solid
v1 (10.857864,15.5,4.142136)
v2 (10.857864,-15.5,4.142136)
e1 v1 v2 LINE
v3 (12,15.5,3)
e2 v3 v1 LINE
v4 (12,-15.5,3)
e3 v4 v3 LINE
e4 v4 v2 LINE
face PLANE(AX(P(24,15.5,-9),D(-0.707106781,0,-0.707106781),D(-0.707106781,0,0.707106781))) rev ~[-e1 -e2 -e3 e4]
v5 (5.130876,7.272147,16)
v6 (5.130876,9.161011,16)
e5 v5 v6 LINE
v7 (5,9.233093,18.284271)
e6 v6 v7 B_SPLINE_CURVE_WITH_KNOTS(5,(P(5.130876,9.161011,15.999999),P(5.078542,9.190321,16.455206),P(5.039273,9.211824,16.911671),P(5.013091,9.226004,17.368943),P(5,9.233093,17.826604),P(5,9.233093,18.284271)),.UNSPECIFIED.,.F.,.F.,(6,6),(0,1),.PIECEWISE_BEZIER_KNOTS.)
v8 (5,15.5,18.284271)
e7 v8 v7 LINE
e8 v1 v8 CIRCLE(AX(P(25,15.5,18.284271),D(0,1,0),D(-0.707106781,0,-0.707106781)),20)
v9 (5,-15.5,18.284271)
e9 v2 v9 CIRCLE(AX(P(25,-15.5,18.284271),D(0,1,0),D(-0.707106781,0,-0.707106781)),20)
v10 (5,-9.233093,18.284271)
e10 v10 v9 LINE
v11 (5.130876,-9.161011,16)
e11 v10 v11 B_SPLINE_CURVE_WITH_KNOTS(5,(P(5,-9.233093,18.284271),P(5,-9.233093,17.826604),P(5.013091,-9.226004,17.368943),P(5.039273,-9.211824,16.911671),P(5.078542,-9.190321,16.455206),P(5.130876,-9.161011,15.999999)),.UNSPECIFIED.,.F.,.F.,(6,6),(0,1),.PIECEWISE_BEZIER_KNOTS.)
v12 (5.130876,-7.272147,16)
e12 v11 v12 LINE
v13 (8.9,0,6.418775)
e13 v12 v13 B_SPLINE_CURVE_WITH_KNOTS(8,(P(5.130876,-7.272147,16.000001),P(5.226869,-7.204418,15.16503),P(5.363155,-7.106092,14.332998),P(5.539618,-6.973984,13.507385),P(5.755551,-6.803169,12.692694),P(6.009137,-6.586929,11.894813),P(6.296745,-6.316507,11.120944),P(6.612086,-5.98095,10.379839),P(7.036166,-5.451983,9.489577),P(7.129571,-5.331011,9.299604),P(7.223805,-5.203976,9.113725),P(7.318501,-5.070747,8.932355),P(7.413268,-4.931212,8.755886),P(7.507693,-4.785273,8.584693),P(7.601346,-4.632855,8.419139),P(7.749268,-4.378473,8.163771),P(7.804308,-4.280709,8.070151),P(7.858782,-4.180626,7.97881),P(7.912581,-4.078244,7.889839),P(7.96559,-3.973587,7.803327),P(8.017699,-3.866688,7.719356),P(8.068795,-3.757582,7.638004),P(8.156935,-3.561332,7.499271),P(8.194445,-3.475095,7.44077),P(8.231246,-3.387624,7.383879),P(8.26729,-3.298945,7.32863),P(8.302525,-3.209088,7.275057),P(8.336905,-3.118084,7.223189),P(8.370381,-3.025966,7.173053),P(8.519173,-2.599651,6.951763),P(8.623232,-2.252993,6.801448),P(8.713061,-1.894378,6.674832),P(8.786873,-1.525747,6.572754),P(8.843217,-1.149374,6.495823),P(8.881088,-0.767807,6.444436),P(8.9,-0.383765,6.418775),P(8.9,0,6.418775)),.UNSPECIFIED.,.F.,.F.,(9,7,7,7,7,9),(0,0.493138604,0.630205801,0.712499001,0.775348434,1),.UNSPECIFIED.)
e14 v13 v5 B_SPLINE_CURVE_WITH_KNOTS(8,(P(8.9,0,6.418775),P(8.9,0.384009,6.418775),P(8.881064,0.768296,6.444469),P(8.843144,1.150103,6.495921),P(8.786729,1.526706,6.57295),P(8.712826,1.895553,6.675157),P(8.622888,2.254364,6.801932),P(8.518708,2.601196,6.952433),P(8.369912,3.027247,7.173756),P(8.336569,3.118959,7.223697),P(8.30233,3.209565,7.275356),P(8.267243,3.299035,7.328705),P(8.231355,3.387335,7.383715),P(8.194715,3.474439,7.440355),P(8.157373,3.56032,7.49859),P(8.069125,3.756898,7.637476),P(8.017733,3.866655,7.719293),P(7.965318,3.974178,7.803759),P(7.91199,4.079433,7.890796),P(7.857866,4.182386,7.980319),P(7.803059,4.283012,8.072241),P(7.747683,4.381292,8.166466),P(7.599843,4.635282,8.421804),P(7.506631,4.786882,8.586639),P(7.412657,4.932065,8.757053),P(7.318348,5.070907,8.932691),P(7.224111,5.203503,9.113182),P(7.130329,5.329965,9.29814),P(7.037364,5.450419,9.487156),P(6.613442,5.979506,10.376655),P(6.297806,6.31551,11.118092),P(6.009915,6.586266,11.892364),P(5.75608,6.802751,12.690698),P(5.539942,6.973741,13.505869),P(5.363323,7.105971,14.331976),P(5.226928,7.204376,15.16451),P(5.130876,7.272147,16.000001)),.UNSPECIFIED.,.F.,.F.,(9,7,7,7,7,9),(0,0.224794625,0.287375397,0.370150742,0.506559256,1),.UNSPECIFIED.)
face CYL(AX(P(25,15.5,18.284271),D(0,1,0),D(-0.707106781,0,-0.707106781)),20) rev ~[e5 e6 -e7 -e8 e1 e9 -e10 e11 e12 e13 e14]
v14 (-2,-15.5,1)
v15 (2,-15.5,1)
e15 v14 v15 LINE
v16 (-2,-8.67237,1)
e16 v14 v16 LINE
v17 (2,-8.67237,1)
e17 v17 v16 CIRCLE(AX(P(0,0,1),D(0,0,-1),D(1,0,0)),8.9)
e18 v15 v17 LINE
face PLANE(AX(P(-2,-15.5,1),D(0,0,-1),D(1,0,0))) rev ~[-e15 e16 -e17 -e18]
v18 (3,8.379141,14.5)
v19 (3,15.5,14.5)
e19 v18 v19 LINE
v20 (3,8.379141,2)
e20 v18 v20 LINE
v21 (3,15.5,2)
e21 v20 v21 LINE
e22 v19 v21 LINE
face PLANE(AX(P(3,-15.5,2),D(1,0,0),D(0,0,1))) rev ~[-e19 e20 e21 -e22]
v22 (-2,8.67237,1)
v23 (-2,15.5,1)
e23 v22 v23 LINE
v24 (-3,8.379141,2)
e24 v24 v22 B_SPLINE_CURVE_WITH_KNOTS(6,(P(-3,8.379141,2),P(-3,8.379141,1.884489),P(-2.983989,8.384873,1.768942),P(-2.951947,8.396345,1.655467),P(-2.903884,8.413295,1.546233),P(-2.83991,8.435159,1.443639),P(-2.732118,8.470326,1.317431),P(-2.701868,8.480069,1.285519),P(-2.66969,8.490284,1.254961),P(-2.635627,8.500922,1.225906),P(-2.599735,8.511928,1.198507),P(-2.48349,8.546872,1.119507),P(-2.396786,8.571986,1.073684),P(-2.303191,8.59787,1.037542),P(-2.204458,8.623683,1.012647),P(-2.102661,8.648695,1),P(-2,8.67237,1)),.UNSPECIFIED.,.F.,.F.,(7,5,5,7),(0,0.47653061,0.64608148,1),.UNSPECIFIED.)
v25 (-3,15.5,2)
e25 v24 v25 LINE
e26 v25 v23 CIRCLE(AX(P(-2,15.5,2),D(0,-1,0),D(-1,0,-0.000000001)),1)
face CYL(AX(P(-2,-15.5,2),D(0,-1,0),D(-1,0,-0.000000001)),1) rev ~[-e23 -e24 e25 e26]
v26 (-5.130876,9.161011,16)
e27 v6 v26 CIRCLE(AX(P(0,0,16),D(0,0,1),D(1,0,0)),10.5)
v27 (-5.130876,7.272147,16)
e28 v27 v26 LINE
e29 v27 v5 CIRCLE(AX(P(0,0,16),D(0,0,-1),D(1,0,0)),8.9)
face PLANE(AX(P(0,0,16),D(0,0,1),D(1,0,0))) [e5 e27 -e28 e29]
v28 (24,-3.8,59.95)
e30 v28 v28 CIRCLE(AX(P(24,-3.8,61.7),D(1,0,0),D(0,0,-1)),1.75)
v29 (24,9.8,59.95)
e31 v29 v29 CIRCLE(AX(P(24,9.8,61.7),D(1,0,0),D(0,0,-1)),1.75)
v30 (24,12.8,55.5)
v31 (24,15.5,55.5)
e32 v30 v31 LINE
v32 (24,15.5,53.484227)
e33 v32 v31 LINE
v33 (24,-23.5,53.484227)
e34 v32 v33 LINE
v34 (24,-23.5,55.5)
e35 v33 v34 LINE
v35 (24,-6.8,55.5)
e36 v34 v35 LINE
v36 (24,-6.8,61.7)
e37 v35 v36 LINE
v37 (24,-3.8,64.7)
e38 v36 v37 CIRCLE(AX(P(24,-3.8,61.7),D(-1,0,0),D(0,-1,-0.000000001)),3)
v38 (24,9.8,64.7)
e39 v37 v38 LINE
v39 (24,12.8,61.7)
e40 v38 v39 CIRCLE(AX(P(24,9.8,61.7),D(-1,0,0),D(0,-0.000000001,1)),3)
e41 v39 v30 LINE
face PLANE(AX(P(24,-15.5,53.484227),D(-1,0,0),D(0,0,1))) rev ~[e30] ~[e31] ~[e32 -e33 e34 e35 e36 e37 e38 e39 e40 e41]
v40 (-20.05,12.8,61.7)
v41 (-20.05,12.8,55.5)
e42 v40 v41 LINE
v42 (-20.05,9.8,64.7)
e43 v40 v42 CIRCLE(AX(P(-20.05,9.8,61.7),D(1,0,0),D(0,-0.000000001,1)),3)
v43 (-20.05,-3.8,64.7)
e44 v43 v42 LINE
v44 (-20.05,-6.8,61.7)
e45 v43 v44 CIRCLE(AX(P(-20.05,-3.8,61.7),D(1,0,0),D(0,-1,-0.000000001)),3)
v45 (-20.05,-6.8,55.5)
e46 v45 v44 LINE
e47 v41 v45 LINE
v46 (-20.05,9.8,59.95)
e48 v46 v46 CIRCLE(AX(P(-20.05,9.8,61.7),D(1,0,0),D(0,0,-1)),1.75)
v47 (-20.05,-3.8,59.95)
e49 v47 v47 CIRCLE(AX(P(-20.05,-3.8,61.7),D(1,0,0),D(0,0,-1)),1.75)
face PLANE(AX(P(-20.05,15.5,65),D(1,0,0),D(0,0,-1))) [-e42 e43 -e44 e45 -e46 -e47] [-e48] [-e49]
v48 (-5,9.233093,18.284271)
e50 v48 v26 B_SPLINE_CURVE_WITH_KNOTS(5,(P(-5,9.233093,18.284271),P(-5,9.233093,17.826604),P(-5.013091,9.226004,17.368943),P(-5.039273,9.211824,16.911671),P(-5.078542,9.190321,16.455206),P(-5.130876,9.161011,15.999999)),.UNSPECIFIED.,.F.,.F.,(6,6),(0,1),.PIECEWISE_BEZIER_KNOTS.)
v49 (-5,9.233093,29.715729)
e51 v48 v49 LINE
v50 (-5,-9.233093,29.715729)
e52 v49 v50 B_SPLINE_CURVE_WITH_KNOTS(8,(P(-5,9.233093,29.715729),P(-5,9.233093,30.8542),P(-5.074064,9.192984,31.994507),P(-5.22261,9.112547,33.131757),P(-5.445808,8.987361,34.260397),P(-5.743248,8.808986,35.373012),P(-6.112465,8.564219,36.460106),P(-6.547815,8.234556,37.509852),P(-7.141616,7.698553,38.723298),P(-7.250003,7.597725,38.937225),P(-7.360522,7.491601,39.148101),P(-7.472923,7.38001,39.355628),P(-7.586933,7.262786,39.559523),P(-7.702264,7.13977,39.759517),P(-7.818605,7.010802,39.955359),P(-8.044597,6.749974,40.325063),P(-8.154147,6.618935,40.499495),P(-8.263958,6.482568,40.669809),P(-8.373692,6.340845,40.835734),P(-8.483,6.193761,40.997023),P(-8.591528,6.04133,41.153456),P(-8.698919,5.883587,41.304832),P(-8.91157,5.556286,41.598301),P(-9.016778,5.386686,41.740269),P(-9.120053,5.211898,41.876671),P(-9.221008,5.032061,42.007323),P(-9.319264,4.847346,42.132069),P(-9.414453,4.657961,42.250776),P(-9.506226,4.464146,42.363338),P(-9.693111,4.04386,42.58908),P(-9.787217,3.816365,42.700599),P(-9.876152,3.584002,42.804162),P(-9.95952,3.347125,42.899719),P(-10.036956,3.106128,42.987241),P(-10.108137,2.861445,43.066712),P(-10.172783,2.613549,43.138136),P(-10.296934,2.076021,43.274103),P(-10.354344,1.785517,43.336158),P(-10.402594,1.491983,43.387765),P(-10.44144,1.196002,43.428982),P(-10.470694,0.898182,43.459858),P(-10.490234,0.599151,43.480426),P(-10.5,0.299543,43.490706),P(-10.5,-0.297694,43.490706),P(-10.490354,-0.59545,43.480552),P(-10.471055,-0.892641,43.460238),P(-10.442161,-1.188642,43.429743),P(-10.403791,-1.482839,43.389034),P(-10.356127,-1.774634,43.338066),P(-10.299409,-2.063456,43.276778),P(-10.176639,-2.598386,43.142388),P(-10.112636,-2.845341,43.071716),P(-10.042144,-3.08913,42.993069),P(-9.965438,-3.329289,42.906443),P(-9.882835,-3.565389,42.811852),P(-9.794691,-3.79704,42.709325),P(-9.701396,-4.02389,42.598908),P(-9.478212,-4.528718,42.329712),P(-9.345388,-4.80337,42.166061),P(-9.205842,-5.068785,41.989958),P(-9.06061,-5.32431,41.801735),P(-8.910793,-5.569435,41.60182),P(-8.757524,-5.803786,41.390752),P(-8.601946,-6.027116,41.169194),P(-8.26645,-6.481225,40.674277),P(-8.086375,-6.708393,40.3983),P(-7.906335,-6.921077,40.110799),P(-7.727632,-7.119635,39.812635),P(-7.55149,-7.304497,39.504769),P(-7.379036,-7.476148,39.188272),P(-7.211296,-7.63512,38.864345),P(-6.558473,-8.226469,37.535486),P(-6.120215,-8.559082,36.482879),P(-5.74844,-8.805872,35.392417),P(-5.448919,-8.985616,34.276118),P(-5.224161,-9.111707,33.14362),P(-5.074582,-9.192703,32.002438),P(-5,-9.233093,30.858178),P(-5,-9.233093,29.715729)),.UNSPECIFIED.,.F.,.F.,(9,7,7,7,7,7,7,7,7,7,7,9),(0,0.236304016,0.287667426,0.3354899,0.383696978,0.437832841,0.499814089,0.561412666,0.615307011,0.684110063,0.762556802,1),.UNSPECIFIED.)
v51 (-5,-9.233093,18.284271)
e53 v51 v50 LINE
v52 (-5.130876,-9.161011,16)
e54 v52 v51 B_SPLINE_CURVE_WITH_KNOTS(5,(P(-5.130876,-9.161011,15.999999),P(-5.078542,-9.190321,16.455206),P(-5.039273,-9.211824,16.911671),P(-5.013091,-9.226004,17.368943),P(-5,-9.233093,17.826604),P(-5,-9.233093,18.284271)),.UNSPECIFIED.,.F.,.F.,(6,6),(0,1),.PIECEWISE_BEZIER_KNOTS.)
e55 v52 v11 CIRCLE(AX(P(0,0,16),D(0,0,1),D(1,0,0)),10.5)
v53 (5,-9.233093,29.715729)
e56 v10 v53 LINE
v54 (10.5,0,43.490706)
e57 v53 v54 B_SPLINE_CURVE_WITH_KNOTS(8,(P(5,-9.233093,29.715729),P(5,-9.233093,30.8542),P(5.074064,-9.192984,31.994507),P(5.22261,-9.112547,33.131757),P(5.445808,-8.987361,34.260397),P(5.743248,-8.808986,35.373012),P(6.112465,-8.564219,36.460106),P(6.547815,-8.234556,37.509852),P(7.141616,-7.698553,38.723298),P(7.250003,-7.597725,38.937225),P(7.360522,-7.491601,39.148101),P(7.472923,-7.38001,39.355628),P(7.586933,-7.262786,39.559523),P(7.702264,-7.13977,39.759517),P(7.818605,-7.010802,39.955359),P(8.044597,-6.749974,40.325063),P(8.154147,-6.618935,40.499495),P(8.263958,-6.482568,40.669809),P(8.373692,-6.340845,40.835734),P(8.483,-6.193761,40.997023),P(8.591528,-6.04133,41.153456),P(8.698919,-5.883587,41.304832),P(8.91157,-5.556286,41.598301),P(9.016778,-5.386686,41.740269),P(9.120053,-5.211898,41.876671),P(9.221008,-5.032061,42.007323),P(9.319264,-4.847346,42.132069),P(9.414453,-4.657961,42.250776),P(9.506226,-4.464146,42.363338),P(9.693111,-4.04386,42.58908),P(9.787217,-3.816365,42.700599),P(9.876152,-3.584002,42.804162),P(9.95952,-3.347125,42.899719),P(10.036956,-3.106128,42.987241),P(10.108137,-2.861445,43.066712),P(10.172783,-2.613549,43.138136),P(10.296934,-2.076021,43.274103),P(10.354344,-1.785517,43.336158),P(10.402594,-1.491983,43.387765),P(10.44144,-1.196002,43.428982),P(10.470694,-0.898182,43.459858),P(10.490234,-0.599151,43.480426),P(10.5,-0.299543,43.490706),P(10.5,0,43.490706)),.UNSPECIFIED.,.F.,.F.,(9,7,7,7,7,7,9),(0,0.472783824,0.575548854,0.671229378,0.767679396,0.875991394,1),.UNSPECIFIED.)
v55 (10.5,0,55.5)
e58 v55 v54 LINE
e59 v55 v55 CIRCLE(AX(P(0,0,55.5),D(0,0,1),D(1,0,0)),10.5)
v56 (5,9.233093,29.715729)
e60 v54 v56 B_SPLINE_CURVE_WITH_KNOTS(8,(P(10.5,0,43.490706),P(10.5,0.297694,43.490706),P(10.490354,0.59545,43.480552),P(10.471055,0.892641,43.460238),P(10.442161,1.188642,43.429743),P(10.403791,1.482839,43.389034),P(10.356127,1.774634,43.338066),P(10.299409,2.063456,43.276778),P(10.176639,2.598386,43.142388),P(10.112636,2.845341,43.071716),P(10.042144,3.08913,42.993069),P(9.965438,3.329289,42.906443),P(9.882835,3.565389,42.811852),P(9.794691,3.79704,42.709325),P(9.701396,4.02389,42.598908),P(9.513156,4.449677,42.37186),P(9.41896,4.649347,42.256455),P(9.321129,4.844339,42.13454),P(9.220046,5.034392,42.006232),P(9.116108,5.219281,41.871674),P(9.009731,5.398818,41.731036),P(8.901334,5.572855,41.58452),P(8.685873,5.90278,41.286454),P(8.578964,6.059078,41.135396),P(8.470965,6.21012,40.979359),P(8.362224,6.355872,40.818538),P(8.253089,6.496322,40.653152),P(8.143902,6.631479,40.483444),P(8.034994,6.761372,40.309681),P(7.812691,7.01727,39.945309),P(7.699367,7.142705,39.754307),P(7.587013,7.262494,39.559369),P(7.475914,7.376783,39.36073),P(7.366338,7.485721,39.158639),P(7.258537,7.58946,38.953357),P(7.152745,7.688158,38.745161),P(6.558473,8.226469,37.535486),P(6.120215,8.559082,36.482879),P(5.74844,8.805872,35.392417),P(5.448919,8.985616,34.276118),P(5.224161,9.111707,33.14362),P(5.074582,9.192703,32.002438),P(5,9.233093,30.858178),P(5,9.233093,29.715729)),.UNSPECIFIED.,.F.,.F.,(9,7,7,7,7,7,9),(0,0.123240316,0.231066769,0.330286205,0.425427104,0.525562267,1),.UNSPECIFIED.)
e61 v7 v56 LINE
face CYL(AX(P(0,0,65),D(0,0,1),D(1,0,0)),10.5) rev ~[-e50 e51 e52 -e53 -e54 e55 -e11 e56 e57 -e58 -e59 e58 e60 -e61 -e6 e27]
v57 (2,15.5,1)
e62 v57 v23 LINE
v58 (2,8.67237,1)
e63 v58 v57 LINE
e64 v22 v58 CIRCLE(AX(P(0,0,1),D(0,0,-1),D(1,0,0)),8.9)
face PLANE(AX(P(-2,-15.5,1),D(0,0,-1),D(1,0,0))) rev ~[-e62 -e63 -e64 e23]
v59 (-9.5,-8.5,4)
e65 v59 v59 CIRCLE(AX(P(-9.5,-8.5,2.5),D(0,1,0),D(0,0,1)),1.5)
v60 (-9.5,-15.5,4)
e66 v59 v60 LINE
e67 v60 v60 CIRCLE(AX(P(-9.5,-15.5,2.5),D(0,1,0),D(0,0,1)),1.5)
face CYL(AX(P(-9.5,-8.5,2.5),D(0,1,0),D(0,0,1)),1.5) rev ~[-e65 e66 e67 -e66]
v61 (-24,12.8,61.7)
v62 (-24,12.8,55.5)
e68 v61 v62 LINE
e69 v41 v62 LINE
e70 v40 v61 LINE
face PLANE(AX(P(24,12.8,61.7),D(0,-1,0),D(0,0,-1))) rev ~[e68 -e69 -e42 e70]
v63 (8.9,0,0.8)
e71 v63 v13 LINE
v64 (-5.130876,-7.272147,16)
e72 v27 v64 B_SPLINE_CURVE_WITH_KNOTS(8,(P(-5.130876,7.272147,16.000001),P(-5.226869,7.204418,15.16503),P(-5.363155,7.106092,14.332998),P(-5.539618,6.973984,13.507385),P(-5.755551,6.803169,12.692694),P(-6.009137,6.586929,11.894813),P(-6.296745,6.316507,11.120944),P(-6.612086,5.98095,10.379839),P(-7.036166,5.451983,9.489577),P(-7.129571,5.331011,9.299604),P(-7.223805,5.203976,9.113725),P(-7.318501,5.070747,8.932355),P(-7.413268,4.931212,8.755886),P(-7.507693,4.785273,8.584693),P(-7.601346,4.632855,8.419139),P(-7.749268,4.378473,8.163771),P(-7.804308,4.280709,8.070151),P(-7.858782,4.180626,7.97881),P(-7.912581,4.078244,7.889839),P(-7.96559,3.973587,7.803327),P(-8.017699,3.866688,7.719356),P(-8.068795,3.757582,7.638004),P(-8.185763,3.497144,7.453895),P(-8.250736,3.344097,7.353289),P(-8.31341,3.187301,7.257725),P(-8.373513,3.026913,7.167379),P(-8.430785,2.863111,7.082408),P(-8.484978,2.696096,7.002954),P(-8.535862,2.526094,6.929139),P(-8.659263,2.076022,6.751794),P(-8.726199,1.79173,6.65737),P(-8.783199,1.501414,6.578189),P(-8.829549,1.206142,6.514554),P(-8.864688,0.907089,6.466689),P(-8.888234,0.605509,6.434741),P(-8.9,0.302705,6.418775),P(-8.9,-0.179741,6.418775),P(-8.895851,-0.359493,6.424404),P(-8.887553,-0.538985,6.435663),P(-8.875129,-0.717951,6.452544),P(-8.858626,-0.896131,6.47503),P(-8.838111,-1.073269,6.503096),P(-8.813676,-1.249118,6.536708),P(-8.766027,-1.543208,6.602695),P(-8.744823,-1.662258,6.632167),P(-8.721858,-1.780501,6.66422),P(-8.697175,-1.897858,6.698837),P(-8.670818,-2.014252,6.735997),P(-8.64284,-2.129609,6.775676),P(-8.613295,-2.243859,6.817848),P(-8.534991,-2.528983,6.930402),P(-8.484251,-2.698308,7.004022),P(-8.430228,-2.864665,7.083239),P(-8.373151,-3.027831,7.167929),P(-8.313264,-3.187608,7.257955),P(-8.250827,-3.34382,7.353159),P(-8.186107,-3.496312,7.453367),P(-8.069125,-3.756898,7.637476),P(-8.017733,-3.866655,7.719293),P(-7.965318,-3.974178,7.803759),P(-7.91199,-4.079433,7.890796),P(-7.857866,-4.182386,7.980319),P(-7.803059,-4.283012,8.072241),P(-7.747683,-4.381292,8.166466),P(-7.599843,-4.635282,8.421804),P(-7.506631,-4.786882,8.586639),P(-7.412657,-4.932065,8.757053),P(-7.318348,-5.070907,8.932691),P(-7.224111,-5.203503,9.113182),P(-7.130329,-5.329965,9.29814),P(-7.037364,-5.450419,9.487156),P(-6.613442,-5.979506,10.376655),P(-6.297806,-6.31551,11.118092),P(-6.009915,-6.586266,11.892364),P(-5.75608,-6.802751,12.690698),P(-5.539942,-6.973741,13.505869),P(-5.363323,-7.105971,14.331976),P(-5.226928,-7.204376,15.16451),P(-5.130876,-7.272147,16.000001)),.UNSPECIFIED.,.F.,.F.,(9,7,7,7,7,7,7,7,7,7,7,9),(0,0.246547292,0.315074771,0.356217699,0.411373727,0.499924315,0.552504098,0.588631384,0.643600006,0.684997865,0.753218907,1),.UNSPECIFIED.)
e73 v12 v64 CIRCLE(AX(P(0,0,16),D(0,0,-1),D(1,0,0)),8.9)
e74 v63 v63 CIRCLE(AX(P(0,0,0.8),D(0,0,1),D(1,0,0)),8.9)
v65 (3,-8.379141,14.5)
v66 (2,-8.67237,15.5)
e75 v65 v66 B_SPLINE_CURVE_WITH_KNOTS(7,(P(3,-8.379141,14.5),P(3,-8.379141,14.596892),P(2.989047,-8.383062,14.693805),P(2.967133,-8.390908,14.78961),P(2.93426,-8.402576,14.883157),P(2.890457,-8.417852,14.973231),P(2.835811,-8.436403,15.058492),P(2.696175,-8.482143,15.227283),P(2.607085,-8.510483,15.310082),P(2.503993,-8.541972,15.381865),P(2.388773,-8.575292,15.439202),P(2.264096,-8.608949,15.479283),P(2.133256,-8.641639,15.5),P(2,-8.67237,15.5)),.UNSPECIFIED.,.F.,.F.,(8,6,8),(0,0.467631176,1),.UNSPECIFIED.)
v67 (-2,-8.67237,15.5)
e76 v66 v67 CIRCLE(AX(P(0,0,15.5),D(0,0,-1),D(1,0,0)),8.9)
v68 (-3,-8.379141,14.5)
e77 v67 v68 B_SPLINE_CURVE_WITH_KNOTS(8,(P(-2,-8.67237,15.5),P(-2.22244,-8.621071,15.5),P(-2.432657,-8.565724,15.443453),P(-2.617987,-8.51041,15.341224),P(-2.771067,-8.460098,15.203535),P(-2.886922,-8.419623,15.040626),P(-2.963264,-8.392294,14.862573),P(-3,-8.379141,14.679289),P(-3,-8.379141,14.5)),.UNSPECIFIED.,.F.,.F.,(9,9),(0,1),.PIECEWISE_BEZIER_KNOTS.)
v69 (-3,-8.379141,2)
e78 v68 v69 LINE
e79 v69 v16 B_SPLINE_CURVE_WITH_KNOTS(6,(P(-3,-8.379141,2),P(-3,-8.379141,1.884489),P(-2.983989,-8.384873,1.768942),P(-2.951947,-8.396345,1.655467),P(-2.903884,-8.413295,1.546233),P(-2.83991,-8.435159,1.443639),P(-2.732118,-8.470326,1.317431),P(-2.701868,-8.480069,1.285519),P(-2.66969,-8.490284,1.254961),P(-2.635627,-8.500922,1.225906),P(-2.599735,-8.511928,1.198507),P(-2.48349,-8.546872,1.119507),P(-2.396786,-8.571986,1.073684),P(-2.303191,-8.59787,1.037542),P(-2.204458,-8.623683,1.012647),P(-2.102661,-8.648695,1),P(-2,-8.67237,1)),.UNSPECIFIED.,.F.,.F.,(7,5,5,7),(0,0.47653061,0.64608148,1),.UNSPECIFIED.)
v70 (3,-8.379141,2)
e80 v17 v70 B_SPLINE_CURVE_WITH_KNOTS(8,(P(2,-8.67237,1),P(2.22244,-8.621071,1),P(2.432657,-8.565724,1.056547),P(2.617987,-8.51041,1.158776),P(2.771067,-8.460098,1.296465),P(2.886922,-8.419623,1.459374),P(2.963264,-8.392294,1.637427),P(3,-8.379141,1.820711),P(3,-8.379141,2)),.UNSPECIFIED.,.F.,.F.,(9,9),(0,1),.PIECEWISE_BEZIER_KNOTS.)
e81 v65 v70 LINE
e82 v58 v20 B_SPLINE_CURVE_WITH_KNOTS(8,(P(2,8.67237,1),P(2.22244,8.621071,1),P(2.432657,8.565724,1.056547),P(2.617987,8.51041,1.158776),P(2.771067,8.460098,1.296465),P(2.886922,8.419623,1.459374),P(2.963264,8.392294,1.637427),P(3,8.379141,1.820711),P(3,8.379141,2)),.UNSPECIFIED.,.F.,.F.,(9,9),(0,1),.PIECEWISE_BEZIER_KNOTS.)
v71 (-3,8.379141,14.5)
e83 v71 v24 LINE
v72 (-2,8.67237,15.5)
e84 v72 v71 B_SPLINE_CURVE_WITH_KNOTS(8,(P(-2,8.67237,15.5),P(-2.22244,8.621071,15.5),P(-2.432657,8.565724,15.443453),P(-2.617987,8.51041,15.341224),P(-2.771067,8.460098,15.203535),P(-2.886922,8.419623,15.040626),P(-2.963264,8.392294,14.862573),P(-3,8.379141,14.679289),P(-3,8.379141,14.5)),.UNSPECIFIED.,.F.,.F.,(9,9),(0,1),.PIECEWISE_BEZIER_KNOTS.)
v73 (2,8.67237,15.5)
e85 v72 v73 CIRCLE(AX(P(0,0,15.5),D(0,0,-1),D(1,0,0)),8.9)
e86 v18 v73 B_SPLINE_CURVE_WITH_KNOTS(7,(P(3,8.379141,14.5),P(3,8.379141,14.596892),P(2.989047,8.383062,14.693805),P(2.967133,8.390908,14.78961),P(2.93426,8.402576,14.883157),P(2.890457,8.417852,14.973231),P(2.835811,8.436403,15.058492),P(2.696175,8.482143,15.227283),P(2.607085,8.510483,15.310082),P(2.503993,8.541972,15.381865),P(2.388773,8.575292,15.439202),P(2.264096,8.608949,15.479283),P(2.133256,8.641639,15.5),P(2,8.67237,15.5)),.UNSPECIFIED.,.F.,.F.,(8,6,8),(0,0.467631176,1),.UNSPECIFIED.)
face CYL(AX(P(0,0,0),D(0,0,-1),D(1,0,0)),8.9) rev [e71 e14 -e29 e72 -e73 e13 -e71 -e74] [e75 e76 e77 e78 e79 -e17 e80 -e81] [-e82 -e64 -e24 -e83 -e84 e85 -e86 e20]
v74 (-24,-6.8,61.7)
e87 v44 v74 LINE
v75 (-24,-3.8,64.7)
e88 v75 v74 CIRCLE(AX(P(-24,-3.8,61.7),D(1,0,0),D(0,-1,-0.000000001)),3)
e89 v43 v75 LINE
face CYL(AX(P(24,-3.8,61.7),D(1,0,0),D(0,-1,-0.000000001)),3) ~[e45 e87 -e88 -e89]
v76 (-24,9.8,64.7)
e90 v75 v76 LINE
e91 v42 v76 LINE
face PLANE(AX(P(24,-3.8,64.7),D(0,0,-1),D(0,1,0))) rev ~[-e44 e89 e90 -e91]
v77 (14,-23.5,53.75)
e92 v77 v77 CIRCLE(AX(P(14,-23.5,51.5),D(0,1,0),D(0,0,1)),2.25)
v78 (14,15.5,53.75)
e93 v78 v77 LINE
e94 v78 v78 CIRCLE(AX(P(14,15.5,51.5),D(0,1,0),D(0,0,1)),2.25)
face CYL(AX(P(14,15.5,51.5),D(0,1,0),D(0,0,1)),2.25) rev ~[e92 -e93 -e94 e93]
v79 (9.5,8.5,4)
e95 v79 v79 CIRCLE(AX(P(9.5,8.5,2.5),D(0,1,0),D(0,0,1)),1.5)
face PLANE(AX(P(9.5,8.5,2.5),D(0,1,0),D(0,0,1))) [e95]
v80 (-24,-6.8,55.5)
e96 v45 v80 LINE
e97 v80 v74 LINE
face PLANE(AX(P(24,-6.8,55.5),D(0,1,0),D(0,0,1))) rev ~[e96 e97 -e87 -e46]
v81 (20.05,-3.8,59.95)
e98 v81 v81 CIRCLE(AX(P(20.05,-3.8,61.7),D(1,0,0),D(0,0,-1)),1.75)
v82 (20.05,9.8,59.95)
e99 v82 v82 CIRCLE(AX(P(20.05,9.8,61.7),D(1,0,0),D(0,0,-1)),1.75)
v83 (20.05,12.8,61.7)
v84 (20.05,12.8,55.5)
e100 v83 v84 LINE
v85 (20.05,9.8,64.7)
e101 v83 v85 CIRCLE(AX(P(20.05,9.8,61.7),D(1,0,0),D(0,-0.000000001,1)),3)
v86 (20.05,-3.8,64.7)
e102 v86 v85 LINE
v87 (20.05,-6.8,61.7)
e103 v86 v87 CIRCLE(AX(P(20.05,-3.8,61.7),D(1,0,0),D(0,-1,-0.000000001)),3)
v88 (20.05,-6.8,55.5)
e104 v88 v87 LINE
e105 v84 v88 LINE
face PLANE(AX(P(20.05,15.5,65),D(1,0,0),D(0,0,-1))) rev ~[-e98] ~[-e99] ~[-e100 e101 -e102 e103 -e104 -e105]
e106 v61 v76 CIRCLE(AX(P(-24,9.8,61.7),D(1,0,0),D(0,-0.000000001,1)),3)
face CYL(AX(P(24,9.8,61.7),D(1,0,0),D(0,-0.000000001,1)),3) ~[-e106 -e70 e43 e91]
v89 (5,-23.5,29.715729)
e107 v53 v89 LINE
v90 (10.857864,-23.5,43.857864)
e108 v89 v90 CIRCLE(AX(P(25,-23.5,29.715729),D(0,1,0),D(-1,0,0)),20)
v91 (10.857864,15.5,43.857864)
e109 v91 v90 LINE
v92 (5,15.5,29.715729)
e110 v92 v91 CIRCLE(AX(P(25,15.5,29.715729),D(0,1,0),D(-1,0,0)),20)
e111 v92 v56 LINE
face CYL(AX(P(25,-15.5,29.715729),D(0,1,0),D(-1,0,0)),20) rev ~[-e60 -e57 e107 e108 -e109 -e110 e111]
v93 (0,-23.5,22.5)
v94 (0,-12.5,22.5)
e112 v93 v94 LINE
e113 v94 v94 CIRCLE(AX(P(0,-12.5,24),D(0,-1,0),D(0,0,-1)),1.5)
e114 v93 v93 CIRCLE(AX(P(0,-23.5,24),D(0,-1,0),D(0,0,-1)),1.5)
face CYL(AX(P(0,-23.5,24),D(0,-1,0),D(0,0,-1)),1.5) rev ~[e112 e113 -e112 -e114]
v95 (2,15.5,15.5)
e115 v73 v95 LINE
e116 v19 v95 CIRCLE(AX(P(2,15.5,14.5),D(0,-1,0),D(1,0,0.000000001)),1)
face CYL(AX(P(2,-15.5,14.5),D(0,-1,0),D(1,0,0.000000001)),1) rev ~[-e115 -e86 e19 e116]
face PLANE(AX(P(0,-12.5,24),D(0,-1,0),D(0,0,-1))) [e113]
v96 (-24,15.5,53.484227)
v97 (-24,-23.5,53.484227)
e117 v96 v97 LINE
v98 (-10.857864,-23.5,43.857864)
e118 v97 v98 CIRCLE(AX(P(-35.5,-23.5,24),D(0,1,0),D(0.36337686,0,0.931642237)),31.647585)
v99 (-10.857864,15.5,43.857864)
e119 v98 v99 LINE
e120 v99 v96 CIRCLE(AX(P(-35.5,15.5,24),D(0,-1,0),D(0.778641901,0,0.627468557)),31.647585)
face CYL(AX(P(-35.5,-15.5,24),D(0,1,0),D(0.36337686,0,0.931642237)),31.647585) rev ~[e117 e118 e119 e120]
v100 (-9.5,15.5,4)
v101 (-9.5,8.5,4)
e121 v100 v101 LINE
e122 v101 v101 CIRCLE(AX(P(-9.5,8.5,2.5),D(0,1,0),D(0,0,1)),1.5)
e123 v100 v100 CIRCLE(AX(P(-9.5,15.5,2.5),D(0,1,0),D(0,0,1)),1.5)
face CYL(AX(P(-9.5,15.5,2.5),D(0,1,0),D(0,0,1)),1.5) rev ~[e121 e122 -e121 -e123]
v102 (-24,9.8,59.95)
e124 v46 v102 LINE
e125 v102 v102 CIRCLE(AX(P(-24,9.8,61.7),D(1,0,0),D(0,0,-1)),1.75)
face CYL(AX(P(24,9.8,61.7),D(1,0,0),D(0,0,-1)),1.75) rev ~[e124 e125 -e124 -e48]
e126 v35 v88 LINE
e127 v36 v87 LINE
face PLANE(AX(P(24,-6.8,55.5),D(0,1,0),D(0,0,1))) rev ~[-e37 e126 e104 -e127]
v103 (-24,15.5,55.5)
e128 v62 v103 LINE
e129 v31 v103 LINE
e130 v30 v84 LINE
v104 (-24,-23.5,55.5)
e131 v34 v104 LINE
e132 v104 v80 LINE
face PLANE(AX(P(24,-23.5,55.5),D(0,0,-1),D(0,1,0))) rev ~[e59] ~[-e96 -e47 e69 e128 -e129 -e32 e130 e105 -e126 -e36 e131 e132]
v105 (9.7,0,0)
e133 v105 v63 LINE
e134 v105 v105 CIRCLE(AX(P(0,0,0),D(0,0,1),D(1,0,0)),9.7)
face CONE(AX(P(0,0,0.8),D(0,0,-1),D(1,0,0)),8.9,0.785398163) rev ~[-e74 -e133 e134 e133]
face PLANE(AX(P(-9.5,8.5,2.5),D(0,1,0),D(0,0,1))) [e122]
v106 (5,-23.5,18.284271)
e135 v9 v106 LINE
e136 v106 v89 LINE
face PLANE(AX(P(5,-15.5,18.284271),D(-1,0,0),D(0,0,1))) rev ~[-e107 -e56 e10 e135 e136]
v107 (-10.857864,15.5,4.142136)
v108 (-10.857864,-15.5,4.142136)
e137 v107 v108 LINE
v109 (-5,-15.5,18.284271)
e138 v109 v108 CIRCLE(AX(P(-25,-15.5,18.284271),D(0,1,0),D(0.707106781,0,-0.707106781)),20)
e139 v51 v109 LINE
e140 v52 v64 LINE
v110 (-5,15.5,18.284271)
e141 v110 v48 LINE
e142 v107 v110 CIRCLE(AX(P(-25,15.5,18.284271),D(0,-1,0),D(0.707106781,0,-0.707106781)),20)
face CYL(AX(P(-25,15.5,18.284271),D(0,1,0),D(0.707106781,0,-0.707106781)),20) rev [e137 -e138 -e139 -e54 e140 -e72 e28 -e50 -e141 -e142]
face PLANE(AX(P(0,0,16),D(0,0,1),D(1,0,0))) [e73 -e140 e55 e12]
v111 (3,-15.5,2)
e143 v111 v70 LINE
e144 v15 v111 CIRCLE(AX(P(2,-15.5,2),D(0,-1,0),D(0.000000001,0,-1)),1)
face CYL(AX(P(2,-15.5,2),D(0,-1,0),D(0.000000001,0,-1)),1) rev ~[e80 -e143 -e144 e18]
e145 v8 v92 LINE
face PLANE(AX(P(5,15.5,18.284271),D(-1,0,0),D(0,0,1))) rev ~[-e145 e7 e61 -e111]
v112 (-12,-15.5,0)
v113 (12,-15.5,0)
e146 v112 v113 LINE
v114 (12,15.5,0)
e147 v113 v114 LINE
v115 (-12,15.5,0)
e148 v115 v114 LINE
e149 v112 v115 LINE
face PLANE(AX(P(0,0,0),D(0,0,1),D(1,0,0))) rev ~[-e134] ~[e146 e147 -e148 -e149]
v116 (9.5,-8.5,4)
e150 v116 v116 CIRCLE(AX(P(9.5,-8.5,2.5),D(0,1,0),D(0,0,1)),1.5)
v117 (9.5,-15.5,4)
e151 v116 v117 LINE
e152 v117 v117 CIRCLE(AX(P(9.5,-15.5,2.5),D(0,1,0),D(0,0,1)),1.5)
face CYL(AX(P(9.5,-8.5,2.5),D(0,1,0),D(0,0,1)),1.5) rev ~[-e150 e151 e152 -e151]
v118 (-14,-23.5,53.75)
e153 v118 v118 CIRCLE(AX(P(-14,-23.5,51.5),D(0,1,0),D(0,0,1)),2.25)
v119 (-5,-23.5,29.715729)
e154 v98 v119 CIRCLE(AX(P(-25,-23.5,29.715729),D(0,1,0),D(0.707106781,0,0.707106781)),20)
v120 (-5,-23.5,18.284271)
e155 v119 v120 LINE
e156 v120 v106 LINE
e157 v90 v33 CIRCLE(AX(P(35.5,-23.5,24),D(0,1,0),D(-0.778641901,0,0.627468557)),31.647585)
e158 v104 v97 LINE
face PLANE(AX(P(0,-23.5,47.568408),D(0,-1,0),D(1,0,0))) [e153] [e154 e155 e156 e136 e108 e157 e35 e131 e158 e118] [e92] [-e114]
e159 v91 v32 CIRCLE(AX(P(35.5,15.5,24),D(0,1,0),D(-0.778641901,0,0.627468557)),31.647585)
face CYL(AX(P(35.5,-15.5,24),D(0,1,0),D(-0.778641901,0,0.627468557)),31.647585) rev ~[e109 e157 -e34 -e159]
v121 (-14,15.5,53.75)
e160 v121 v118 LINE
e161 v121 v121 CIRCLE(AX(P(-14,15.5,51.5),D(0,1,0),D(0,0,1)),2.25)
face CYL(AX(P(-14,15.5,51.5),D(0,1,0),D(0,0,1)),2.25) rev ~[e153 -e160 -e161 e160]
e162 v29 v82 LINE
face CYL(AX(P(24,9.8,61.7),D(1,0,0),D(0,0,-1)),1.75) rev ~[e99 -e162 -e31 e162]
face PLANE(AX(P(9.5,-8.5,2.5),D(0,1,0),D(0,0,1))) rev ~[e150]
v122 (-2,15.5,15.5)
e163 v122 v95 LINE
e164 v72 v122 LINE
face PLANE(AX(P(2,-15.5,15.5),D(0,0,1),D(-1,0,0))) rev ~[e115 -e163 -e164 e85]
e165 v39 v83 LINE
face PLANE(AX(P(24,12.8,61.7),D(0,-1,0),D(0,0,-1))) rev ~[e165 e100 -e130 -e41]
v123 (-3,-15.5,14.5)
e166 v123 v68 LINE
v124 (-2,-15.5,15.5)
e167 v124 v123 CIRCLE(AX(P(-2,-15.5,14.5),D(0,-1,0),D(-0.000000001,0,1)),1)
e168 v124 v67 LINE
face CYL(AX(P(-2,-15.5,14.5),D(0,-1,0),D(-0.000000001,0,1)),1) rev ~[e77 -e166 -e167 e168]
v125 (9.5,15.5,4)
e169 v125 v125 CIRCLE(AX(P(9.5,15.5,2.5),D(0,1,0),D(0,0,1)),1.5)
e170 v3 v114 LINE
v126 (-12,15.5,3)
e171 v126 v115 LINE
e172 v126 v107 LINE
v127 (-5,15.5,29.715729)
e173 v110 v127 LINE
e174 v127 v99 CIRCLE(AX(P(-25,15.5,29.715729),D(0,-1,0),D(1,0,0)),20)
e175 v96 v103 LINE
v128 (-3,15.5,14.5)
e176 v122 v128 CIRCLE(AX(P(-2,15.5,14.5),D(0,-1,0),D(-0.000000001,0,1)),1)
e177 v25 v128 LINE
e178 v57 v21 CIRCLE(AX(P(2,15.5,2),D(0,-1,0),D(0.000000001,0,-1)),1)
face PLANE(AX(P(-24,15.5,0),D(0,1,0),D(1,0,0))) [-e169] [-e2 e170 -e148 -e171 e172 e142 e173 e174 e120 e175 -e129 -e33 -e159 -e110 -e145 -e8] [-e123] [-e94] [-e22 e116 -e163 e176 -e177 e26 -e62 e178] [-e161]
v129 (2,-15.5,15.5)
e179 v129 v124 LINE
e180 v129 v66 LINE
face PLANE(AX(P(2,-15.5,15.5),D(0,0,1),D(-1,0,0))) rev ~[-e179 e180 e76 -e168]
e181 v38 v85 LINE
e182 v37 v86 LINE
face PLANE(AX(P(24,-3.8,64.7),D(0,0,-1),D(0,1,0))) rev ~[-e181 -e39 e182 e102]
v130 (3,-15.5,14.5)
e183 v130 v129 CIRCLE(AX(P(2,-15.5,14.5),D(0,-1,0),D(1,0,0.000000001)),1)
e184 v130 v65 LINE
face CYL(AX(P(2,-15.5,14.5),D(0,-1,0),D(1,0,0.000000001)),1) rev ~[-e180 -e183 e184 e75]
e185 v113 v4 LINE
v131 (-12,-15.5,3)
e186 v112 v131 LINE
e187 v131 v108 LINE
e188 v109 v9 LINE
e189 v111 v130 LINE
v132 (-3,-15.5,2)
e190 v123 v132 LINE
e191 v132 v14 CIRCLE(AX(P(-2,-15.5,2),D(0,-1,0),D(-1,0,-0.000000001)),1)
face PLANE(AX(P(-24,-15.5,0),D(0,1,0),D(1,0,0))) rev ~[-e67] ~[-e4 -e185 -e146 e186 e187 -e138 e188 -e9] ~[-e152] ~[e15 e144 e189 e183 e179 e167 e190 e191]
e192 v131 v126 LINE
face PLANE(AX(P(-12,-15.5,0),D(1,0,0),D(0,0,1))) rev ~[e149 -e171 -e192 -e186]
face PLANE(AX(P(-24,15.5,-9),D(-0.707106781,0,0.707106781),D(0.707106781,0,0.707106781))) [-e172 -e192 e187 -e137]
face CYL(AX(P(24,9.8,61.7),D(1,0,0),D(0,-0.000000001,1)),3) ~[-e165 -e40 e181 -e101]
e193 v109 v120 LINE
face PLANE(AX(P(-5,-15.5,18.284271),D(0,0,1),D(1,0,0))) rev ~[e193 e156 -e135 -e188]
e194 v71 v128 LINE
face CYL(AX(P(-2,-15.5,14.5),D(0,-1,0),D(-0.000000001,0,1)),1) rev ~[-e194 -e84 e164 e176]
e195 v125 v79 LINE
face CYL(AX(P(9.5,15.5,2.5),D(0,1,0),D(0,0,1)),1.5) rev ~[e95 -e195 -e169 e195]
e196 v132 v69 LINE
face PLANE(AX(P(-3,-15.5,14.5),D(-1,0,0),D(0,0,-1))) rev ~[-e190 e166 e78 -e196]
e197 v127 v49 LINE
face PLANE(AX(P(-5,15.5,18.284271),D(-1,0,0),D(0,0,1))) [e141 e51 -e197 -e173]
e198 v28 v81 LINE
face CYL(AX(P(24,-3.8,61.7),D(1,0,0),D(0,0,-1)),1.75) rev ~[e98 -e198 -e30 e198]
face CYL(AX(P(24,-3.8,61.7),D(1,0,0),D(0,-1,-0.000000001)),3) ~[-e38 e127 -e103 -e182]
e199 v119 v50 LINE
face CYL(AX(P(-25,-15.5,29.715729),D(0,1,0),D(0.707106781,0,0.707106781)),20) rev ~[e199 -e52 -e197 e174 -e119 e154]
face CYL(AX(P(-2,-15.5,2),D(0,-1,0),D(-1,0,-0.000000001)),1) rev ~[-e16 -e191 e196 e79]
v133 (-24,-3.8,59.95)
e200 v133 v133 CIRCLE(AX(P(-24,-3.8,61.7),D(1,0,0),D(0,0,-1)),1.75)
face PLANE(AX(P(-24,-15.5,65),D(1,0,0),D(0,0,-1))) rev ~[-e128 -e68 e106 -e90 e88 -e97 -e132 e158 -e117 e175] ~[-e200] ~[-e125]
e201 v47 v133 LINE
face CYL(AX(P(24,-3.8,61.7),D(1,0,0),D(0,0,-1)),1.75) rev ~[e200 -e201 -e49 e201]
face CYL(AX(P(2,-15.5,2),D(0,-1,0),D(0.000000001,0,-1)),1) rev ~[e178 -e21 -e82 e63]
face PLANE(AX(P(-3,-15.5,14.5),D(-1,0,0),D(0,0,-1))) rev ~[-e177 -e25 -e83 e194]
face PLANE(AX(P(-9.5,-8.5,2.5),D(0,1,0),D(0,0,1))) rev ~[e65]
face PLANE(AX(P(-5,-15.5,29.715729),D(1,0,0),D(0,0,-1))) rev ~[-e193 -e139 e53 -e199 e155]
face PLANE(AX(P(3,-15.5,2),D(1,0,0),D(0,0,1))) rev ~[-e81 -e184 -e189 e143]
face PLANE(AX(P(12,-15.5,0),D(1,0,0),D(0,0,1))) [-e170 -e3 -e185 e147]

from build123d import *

# Parameters (mm, degrees)
SKETCH_1_W           = 48
SKETCH_1_H           = 31
SKETCH_1_R           = 8.9
EXTRUDE_1_DEPTH      = 65
SKETCH_2_R           = 10.5
CUT_EXTRUDE_1_DEPTH  = 49
CUT_EXTRUDE_3_DEPTH  = 76.907838857
CUT_EXTRUDE_START    = -31
CUT_EXTRUDE_5_DEPTH  = 107.907838984
SKETCH_9_R           = 1.5
CUT_EXTRUDE_6_DEPTH  = 7
CUT_EXTRUDE_START_2  = -24
SKETCH_9_2_R         = 1.5
CUT_EXTRUDE_7_DEPTH  = 7
EXTRUDE_4_DEPTH      = 8
SKETCH_11_R          = 2.25
CUT_EXTRUDE_9_DEPTH  = 80.511005658
SKETCH_14_R          = 1.5
CUT_EXTRUDE_10_DEPTH = 11
SKETCH_15_W          = 40.1
SKETCH_15_H          = 9.5
CUT_EXTRUDE_11_DEPTH = 80.511005658
SKETCH_17_R          = 1.75
CUT_EXTRUDE_13_DEPTH = 85.150163426
SKETCH_19_W          = 3
SKETCH_19_H          = 3
CUT_EXTRUDE_14_DEPTH = 76.651107105
CHAMFER_1_SIZE       = 0.8


with BuildPart() as part:
    # 草图1 → 凸台-拉伸1 (new body)
    with BuildSketch(Plane.XY):
        Rectangle(SKETCH_1_W, SKETCH_1_H)
        Circle(SKETCH_1_R, mode=Mode.SUBTRACT)
    extrude(amount=EXTRUDE_1_DEPTH)

    # 草图2 → 切除-拉伸1 (cut)
    with BuildSketch(Plane.XY.offset(65)):
        Circle(SKETCH_2_R)
    extrude(amount=-CUT_EXTRUDE_1_DEPTH, mode=Mode.SUBTRACT)

    # 草图4 → 切除-拉伸3 (cut, through all)
    with BuildSketch(Plane(origin=(0, 15.5, 0), x_dir=(1, 0, 0), z_dir=(0, 1, 0))):
        with BuildLine():
            Line((-24, 9), (-10.857864376, -4.142135624))
            ThreePointArc((-10.857864376, -4.142135624), (-6.52240935, -10.6306026), (-5, -18.284271247))
            Line((-5, -18.284271247), (-5, -29.715728753))
            ThreePointArc((-5, -29.715728753), (-6.52240935, -37.3693974), (-10.857864376, -43.857864376))
            ThreePointArc((-10.857864376, -43.857864376), (-16.798925034, -49.531146093), (-24, -53.484226727))
            Line((-24, -53.484226727), (-24, 9))
        make_face()
        with BuildLine():
            Line((5, -18.284271247), (5, -29.715728753))
            ThreePointArc((5, -29.715728753), (6.52240935, -37.3693974), (10.857864376, -43.857864376))
            ThreePointArc((10.857864376, -43.857864376), (16.798925034, -49.531146093), (24, -53.484226727))
            Line((24, -53.484226727), (24, 9))
            Line((24, 9), (10.857864376, -4.142135624))
            ThreePointArc((10.857864376, -4.142135624), (6.52240935, -10.6306026), (5, -18.284271247))
        make_face()
    extrude(amount=-CUT_EXTRUDE_3_DEPTH, mode=Mode.SUBTRACT)

    # 草图6 → 切除-拉伸5 (cut, through all)
    with BuildSketch(Plane(origin=(0, 15.5, 0), x_dir=(1, 0, 0), z_dir=(0, 1, 0)).offset(CUT_EXTRUDE_START)):
        with BuildLine():
            Line((-2, -1), (2, -1))
            ThreePointArc((2, -1), (2.707106781, -1.292893219), (3, -2))
            Line((3, -2), (3, -14.5))
            ThreePointArc((3, -14.5), (2.707106781, -15.207106781), (2, -15.5))
            Line((2, -15.5), (-2, -15.5))
            ThreePointArc((-2, -15.5), (-2.707106781, -15.207106781), (-3, -14.5))
            Line((-3, -14.5), (-3, -2))
            ThreePointArc((-3, -2), (-2.707106781, -1.292893219), (-2, -1))
        make_face()
    extrude(amount=CUT_EXTRUDE_5_DEPTH, mode=Mode.SUBTRACT)

    # 草图9 → 切除-拉伸6 (cut)
    with BuildSketch(Plane(origin=(0, 15.5, 0), x_dir=(1, 0, 0), z_dir=(0, 1, 0))):
        with Locations(Location((9.5, -2.5, 0), (0, 0, 270))):
            Circle(SKETCH_9_R)
        with Locations(Location((-9.5, -2.5, 0), (0, 0, 270))):
            Circle(SKETCH_9_R)
    extrude(amount=-CUT_EXTRUDE_6_DEPTH, mode=Mode.SUBTRACT)

    # 草图9<2> → 切除-拉伸7 (cut)
    with BuildSketch(Plane(origin=(0, 15.5, 0), x_dir=(1, 0, 0), z_dir=(0, 1, 0)).offset(CUT_EXTRUDE_START_2)):
        with Locations(Location((9.5, -2.5, 0), (0, 0, 270))):
            Circle(SKETCH_9_2_R)
        with Locations(Location((-9.5, -2.5, 0), (0, 0, 270))):
            Circle(SKETCH_9_2_R)
    extrude(amount=-CUT_EXTRUDE_7_DEPTH, mode=Mode.SUBTRACT)

    # 草图12 → 凸台-拉伸4 (add)
    with BuildSketch(Plane.XZ.offset(15.5)):
        with BuildLine():
            Line((-5, 18.284271247), (5, 18.284271247))
            Line((5, 18.284271247), (5, 29.715728753))
            ThreePointArc((5, 29.715728753), (6.52240935, 37.3693974), (10.857864376, 43.857864376))
            ThreePointArc((10.857864376, 43.857864376), (16.798925034, 49.531146093), (24, 53.484226727))
            Line((24, 53.484226727), (24, 65))
            Line((24, 65), (-24, 65))
            Line((-24, 65), (-24, 53.484226727))
            ThreePointArc((-24, 53.484226727), (-16.798925034, 49.531146093), (-10.857864376, 43.857864376))
            ThreePointArc((-10.857864376, 43.857864376), (-6.52240935, 37.3693974), (-5, 29.715728753))
            Line((-5, 29.715728753), (-5, 18.284271247))
        make_face()
    extrude(amount=EXTRUDE_4_DEPTH)

    # 草图11 → 切除-拉伸9 (cut, through all)
    with BuildSketch(Plane(origin=(0, 15.5, 0), x_dir=(1, 0, 0), z_dir=(0, 1, 0))):
        with Locations(Location((14, -51.5, 0), (0, 0, 270))):
            Circle(SKETCH_11_R)
        with Locations(Location((-14, -51.5, 0), (0, 0, 270))):
            Circle(SKETCH_11_R)
    extrude(amount=-CUT_EXTRUDE_9_DEPTH, mode=Mode.SUBTRACT)

    # 草图14 → 切除-拉伸10 (cut)
    with BuildSketch(Plane.XZ.offset(23.5)):
        with Locations(Location((0, 24, 0), (0, 0, 270))):
            Circle(SKETCH_14_R)
    extrude(amount=-CUT_EXTRUDE_10_DEPTH, mode=Mode.SUBTRACT)

    # 草图15 → 切除-拉伸11 (cut, through all)
    with BuildSketch(Plane(origin=(0, 15.5, 0), x_dir=(1, 0, 0), z_dir=(0, 1, 0))):
        with Locations((0, -60.25)):
            Rectangle(SKETCH_15_W, SKETCH_15_H)
    extrude(amount=-CUT_EXTRUDE_11_DEPTH, mode=Mode.SUBTRACT)

    # 草图17 → 切除-拉伸13 (cut, through all)
    with BuildSketch(Plane(origin=(24, 0, 0), x_dir=(0, 0, -1), z_dir=(1, 0, 0))):
        with Locations((-61.7, 9.8)):
            Circle(SKETCH_17_R)
        with Locations((-61.7, -3.8)):
            Circle(SKETCH_17_R)
        with BuildLine():
            Line((-55.5, -23.5), (-55.5, -6.8))
            Line((-55.5, -6.8), (-61.7, -6.8))
            ThreePointArc((-61.7, -6.8), (-63.821320344, -5.921320344), (-64.7, -3.8))
            Line((-64.7, -3.8), (-64.7, 9.8))
            ThreePointArc((-64.7, 9.8), (-63.821320344, 11.921320344), (-61.7, 12.8))
            Line((-61.7, 12.8), (-55.5, 12.8))
            Line((-55.5, 12.8), (-55.5, 15.5))
            Line((-55.5, 15.5), (-64.7, 15.5))
            Line((-64.7, 15.5), (-94.5, 15.5))
            Line((-94.5, 15.5), (-94.5, -23.5))
            Line((-94.5, -23.5), (-55.5, -23.5))
        make_face()
    extrude(amount=-CUT_EXTRUDE_13_DEPTH, mode=Mode.SUBTRACT)

    # 草图19 → 切除-拉伸14 (cut, through all)
    with BuildSketch(Plane.XZ.offset(15.5)):
        with Locations((-13.5, 1.5)):
            Rectangle(SKETCH_19_W, SKETCH_19_H)
        with Locations((13.5, 1.5)):
            Rectangle(SKETCH_19_W, SKETCH_19_H)
    extrude(amount=-CUT_EXTRUDE_14_DEPTH, mode=Mode.SUBTRACT)

    # 倒角1
    chamfer_1_edges = [part.edges().sort_by_distance(p)[0] for p in [
        (-8.9, 0, 0),
    ]]
    chamfer(chamfer_1_edges, length=CHAMFER_1_SIZE)


solid = part.part
